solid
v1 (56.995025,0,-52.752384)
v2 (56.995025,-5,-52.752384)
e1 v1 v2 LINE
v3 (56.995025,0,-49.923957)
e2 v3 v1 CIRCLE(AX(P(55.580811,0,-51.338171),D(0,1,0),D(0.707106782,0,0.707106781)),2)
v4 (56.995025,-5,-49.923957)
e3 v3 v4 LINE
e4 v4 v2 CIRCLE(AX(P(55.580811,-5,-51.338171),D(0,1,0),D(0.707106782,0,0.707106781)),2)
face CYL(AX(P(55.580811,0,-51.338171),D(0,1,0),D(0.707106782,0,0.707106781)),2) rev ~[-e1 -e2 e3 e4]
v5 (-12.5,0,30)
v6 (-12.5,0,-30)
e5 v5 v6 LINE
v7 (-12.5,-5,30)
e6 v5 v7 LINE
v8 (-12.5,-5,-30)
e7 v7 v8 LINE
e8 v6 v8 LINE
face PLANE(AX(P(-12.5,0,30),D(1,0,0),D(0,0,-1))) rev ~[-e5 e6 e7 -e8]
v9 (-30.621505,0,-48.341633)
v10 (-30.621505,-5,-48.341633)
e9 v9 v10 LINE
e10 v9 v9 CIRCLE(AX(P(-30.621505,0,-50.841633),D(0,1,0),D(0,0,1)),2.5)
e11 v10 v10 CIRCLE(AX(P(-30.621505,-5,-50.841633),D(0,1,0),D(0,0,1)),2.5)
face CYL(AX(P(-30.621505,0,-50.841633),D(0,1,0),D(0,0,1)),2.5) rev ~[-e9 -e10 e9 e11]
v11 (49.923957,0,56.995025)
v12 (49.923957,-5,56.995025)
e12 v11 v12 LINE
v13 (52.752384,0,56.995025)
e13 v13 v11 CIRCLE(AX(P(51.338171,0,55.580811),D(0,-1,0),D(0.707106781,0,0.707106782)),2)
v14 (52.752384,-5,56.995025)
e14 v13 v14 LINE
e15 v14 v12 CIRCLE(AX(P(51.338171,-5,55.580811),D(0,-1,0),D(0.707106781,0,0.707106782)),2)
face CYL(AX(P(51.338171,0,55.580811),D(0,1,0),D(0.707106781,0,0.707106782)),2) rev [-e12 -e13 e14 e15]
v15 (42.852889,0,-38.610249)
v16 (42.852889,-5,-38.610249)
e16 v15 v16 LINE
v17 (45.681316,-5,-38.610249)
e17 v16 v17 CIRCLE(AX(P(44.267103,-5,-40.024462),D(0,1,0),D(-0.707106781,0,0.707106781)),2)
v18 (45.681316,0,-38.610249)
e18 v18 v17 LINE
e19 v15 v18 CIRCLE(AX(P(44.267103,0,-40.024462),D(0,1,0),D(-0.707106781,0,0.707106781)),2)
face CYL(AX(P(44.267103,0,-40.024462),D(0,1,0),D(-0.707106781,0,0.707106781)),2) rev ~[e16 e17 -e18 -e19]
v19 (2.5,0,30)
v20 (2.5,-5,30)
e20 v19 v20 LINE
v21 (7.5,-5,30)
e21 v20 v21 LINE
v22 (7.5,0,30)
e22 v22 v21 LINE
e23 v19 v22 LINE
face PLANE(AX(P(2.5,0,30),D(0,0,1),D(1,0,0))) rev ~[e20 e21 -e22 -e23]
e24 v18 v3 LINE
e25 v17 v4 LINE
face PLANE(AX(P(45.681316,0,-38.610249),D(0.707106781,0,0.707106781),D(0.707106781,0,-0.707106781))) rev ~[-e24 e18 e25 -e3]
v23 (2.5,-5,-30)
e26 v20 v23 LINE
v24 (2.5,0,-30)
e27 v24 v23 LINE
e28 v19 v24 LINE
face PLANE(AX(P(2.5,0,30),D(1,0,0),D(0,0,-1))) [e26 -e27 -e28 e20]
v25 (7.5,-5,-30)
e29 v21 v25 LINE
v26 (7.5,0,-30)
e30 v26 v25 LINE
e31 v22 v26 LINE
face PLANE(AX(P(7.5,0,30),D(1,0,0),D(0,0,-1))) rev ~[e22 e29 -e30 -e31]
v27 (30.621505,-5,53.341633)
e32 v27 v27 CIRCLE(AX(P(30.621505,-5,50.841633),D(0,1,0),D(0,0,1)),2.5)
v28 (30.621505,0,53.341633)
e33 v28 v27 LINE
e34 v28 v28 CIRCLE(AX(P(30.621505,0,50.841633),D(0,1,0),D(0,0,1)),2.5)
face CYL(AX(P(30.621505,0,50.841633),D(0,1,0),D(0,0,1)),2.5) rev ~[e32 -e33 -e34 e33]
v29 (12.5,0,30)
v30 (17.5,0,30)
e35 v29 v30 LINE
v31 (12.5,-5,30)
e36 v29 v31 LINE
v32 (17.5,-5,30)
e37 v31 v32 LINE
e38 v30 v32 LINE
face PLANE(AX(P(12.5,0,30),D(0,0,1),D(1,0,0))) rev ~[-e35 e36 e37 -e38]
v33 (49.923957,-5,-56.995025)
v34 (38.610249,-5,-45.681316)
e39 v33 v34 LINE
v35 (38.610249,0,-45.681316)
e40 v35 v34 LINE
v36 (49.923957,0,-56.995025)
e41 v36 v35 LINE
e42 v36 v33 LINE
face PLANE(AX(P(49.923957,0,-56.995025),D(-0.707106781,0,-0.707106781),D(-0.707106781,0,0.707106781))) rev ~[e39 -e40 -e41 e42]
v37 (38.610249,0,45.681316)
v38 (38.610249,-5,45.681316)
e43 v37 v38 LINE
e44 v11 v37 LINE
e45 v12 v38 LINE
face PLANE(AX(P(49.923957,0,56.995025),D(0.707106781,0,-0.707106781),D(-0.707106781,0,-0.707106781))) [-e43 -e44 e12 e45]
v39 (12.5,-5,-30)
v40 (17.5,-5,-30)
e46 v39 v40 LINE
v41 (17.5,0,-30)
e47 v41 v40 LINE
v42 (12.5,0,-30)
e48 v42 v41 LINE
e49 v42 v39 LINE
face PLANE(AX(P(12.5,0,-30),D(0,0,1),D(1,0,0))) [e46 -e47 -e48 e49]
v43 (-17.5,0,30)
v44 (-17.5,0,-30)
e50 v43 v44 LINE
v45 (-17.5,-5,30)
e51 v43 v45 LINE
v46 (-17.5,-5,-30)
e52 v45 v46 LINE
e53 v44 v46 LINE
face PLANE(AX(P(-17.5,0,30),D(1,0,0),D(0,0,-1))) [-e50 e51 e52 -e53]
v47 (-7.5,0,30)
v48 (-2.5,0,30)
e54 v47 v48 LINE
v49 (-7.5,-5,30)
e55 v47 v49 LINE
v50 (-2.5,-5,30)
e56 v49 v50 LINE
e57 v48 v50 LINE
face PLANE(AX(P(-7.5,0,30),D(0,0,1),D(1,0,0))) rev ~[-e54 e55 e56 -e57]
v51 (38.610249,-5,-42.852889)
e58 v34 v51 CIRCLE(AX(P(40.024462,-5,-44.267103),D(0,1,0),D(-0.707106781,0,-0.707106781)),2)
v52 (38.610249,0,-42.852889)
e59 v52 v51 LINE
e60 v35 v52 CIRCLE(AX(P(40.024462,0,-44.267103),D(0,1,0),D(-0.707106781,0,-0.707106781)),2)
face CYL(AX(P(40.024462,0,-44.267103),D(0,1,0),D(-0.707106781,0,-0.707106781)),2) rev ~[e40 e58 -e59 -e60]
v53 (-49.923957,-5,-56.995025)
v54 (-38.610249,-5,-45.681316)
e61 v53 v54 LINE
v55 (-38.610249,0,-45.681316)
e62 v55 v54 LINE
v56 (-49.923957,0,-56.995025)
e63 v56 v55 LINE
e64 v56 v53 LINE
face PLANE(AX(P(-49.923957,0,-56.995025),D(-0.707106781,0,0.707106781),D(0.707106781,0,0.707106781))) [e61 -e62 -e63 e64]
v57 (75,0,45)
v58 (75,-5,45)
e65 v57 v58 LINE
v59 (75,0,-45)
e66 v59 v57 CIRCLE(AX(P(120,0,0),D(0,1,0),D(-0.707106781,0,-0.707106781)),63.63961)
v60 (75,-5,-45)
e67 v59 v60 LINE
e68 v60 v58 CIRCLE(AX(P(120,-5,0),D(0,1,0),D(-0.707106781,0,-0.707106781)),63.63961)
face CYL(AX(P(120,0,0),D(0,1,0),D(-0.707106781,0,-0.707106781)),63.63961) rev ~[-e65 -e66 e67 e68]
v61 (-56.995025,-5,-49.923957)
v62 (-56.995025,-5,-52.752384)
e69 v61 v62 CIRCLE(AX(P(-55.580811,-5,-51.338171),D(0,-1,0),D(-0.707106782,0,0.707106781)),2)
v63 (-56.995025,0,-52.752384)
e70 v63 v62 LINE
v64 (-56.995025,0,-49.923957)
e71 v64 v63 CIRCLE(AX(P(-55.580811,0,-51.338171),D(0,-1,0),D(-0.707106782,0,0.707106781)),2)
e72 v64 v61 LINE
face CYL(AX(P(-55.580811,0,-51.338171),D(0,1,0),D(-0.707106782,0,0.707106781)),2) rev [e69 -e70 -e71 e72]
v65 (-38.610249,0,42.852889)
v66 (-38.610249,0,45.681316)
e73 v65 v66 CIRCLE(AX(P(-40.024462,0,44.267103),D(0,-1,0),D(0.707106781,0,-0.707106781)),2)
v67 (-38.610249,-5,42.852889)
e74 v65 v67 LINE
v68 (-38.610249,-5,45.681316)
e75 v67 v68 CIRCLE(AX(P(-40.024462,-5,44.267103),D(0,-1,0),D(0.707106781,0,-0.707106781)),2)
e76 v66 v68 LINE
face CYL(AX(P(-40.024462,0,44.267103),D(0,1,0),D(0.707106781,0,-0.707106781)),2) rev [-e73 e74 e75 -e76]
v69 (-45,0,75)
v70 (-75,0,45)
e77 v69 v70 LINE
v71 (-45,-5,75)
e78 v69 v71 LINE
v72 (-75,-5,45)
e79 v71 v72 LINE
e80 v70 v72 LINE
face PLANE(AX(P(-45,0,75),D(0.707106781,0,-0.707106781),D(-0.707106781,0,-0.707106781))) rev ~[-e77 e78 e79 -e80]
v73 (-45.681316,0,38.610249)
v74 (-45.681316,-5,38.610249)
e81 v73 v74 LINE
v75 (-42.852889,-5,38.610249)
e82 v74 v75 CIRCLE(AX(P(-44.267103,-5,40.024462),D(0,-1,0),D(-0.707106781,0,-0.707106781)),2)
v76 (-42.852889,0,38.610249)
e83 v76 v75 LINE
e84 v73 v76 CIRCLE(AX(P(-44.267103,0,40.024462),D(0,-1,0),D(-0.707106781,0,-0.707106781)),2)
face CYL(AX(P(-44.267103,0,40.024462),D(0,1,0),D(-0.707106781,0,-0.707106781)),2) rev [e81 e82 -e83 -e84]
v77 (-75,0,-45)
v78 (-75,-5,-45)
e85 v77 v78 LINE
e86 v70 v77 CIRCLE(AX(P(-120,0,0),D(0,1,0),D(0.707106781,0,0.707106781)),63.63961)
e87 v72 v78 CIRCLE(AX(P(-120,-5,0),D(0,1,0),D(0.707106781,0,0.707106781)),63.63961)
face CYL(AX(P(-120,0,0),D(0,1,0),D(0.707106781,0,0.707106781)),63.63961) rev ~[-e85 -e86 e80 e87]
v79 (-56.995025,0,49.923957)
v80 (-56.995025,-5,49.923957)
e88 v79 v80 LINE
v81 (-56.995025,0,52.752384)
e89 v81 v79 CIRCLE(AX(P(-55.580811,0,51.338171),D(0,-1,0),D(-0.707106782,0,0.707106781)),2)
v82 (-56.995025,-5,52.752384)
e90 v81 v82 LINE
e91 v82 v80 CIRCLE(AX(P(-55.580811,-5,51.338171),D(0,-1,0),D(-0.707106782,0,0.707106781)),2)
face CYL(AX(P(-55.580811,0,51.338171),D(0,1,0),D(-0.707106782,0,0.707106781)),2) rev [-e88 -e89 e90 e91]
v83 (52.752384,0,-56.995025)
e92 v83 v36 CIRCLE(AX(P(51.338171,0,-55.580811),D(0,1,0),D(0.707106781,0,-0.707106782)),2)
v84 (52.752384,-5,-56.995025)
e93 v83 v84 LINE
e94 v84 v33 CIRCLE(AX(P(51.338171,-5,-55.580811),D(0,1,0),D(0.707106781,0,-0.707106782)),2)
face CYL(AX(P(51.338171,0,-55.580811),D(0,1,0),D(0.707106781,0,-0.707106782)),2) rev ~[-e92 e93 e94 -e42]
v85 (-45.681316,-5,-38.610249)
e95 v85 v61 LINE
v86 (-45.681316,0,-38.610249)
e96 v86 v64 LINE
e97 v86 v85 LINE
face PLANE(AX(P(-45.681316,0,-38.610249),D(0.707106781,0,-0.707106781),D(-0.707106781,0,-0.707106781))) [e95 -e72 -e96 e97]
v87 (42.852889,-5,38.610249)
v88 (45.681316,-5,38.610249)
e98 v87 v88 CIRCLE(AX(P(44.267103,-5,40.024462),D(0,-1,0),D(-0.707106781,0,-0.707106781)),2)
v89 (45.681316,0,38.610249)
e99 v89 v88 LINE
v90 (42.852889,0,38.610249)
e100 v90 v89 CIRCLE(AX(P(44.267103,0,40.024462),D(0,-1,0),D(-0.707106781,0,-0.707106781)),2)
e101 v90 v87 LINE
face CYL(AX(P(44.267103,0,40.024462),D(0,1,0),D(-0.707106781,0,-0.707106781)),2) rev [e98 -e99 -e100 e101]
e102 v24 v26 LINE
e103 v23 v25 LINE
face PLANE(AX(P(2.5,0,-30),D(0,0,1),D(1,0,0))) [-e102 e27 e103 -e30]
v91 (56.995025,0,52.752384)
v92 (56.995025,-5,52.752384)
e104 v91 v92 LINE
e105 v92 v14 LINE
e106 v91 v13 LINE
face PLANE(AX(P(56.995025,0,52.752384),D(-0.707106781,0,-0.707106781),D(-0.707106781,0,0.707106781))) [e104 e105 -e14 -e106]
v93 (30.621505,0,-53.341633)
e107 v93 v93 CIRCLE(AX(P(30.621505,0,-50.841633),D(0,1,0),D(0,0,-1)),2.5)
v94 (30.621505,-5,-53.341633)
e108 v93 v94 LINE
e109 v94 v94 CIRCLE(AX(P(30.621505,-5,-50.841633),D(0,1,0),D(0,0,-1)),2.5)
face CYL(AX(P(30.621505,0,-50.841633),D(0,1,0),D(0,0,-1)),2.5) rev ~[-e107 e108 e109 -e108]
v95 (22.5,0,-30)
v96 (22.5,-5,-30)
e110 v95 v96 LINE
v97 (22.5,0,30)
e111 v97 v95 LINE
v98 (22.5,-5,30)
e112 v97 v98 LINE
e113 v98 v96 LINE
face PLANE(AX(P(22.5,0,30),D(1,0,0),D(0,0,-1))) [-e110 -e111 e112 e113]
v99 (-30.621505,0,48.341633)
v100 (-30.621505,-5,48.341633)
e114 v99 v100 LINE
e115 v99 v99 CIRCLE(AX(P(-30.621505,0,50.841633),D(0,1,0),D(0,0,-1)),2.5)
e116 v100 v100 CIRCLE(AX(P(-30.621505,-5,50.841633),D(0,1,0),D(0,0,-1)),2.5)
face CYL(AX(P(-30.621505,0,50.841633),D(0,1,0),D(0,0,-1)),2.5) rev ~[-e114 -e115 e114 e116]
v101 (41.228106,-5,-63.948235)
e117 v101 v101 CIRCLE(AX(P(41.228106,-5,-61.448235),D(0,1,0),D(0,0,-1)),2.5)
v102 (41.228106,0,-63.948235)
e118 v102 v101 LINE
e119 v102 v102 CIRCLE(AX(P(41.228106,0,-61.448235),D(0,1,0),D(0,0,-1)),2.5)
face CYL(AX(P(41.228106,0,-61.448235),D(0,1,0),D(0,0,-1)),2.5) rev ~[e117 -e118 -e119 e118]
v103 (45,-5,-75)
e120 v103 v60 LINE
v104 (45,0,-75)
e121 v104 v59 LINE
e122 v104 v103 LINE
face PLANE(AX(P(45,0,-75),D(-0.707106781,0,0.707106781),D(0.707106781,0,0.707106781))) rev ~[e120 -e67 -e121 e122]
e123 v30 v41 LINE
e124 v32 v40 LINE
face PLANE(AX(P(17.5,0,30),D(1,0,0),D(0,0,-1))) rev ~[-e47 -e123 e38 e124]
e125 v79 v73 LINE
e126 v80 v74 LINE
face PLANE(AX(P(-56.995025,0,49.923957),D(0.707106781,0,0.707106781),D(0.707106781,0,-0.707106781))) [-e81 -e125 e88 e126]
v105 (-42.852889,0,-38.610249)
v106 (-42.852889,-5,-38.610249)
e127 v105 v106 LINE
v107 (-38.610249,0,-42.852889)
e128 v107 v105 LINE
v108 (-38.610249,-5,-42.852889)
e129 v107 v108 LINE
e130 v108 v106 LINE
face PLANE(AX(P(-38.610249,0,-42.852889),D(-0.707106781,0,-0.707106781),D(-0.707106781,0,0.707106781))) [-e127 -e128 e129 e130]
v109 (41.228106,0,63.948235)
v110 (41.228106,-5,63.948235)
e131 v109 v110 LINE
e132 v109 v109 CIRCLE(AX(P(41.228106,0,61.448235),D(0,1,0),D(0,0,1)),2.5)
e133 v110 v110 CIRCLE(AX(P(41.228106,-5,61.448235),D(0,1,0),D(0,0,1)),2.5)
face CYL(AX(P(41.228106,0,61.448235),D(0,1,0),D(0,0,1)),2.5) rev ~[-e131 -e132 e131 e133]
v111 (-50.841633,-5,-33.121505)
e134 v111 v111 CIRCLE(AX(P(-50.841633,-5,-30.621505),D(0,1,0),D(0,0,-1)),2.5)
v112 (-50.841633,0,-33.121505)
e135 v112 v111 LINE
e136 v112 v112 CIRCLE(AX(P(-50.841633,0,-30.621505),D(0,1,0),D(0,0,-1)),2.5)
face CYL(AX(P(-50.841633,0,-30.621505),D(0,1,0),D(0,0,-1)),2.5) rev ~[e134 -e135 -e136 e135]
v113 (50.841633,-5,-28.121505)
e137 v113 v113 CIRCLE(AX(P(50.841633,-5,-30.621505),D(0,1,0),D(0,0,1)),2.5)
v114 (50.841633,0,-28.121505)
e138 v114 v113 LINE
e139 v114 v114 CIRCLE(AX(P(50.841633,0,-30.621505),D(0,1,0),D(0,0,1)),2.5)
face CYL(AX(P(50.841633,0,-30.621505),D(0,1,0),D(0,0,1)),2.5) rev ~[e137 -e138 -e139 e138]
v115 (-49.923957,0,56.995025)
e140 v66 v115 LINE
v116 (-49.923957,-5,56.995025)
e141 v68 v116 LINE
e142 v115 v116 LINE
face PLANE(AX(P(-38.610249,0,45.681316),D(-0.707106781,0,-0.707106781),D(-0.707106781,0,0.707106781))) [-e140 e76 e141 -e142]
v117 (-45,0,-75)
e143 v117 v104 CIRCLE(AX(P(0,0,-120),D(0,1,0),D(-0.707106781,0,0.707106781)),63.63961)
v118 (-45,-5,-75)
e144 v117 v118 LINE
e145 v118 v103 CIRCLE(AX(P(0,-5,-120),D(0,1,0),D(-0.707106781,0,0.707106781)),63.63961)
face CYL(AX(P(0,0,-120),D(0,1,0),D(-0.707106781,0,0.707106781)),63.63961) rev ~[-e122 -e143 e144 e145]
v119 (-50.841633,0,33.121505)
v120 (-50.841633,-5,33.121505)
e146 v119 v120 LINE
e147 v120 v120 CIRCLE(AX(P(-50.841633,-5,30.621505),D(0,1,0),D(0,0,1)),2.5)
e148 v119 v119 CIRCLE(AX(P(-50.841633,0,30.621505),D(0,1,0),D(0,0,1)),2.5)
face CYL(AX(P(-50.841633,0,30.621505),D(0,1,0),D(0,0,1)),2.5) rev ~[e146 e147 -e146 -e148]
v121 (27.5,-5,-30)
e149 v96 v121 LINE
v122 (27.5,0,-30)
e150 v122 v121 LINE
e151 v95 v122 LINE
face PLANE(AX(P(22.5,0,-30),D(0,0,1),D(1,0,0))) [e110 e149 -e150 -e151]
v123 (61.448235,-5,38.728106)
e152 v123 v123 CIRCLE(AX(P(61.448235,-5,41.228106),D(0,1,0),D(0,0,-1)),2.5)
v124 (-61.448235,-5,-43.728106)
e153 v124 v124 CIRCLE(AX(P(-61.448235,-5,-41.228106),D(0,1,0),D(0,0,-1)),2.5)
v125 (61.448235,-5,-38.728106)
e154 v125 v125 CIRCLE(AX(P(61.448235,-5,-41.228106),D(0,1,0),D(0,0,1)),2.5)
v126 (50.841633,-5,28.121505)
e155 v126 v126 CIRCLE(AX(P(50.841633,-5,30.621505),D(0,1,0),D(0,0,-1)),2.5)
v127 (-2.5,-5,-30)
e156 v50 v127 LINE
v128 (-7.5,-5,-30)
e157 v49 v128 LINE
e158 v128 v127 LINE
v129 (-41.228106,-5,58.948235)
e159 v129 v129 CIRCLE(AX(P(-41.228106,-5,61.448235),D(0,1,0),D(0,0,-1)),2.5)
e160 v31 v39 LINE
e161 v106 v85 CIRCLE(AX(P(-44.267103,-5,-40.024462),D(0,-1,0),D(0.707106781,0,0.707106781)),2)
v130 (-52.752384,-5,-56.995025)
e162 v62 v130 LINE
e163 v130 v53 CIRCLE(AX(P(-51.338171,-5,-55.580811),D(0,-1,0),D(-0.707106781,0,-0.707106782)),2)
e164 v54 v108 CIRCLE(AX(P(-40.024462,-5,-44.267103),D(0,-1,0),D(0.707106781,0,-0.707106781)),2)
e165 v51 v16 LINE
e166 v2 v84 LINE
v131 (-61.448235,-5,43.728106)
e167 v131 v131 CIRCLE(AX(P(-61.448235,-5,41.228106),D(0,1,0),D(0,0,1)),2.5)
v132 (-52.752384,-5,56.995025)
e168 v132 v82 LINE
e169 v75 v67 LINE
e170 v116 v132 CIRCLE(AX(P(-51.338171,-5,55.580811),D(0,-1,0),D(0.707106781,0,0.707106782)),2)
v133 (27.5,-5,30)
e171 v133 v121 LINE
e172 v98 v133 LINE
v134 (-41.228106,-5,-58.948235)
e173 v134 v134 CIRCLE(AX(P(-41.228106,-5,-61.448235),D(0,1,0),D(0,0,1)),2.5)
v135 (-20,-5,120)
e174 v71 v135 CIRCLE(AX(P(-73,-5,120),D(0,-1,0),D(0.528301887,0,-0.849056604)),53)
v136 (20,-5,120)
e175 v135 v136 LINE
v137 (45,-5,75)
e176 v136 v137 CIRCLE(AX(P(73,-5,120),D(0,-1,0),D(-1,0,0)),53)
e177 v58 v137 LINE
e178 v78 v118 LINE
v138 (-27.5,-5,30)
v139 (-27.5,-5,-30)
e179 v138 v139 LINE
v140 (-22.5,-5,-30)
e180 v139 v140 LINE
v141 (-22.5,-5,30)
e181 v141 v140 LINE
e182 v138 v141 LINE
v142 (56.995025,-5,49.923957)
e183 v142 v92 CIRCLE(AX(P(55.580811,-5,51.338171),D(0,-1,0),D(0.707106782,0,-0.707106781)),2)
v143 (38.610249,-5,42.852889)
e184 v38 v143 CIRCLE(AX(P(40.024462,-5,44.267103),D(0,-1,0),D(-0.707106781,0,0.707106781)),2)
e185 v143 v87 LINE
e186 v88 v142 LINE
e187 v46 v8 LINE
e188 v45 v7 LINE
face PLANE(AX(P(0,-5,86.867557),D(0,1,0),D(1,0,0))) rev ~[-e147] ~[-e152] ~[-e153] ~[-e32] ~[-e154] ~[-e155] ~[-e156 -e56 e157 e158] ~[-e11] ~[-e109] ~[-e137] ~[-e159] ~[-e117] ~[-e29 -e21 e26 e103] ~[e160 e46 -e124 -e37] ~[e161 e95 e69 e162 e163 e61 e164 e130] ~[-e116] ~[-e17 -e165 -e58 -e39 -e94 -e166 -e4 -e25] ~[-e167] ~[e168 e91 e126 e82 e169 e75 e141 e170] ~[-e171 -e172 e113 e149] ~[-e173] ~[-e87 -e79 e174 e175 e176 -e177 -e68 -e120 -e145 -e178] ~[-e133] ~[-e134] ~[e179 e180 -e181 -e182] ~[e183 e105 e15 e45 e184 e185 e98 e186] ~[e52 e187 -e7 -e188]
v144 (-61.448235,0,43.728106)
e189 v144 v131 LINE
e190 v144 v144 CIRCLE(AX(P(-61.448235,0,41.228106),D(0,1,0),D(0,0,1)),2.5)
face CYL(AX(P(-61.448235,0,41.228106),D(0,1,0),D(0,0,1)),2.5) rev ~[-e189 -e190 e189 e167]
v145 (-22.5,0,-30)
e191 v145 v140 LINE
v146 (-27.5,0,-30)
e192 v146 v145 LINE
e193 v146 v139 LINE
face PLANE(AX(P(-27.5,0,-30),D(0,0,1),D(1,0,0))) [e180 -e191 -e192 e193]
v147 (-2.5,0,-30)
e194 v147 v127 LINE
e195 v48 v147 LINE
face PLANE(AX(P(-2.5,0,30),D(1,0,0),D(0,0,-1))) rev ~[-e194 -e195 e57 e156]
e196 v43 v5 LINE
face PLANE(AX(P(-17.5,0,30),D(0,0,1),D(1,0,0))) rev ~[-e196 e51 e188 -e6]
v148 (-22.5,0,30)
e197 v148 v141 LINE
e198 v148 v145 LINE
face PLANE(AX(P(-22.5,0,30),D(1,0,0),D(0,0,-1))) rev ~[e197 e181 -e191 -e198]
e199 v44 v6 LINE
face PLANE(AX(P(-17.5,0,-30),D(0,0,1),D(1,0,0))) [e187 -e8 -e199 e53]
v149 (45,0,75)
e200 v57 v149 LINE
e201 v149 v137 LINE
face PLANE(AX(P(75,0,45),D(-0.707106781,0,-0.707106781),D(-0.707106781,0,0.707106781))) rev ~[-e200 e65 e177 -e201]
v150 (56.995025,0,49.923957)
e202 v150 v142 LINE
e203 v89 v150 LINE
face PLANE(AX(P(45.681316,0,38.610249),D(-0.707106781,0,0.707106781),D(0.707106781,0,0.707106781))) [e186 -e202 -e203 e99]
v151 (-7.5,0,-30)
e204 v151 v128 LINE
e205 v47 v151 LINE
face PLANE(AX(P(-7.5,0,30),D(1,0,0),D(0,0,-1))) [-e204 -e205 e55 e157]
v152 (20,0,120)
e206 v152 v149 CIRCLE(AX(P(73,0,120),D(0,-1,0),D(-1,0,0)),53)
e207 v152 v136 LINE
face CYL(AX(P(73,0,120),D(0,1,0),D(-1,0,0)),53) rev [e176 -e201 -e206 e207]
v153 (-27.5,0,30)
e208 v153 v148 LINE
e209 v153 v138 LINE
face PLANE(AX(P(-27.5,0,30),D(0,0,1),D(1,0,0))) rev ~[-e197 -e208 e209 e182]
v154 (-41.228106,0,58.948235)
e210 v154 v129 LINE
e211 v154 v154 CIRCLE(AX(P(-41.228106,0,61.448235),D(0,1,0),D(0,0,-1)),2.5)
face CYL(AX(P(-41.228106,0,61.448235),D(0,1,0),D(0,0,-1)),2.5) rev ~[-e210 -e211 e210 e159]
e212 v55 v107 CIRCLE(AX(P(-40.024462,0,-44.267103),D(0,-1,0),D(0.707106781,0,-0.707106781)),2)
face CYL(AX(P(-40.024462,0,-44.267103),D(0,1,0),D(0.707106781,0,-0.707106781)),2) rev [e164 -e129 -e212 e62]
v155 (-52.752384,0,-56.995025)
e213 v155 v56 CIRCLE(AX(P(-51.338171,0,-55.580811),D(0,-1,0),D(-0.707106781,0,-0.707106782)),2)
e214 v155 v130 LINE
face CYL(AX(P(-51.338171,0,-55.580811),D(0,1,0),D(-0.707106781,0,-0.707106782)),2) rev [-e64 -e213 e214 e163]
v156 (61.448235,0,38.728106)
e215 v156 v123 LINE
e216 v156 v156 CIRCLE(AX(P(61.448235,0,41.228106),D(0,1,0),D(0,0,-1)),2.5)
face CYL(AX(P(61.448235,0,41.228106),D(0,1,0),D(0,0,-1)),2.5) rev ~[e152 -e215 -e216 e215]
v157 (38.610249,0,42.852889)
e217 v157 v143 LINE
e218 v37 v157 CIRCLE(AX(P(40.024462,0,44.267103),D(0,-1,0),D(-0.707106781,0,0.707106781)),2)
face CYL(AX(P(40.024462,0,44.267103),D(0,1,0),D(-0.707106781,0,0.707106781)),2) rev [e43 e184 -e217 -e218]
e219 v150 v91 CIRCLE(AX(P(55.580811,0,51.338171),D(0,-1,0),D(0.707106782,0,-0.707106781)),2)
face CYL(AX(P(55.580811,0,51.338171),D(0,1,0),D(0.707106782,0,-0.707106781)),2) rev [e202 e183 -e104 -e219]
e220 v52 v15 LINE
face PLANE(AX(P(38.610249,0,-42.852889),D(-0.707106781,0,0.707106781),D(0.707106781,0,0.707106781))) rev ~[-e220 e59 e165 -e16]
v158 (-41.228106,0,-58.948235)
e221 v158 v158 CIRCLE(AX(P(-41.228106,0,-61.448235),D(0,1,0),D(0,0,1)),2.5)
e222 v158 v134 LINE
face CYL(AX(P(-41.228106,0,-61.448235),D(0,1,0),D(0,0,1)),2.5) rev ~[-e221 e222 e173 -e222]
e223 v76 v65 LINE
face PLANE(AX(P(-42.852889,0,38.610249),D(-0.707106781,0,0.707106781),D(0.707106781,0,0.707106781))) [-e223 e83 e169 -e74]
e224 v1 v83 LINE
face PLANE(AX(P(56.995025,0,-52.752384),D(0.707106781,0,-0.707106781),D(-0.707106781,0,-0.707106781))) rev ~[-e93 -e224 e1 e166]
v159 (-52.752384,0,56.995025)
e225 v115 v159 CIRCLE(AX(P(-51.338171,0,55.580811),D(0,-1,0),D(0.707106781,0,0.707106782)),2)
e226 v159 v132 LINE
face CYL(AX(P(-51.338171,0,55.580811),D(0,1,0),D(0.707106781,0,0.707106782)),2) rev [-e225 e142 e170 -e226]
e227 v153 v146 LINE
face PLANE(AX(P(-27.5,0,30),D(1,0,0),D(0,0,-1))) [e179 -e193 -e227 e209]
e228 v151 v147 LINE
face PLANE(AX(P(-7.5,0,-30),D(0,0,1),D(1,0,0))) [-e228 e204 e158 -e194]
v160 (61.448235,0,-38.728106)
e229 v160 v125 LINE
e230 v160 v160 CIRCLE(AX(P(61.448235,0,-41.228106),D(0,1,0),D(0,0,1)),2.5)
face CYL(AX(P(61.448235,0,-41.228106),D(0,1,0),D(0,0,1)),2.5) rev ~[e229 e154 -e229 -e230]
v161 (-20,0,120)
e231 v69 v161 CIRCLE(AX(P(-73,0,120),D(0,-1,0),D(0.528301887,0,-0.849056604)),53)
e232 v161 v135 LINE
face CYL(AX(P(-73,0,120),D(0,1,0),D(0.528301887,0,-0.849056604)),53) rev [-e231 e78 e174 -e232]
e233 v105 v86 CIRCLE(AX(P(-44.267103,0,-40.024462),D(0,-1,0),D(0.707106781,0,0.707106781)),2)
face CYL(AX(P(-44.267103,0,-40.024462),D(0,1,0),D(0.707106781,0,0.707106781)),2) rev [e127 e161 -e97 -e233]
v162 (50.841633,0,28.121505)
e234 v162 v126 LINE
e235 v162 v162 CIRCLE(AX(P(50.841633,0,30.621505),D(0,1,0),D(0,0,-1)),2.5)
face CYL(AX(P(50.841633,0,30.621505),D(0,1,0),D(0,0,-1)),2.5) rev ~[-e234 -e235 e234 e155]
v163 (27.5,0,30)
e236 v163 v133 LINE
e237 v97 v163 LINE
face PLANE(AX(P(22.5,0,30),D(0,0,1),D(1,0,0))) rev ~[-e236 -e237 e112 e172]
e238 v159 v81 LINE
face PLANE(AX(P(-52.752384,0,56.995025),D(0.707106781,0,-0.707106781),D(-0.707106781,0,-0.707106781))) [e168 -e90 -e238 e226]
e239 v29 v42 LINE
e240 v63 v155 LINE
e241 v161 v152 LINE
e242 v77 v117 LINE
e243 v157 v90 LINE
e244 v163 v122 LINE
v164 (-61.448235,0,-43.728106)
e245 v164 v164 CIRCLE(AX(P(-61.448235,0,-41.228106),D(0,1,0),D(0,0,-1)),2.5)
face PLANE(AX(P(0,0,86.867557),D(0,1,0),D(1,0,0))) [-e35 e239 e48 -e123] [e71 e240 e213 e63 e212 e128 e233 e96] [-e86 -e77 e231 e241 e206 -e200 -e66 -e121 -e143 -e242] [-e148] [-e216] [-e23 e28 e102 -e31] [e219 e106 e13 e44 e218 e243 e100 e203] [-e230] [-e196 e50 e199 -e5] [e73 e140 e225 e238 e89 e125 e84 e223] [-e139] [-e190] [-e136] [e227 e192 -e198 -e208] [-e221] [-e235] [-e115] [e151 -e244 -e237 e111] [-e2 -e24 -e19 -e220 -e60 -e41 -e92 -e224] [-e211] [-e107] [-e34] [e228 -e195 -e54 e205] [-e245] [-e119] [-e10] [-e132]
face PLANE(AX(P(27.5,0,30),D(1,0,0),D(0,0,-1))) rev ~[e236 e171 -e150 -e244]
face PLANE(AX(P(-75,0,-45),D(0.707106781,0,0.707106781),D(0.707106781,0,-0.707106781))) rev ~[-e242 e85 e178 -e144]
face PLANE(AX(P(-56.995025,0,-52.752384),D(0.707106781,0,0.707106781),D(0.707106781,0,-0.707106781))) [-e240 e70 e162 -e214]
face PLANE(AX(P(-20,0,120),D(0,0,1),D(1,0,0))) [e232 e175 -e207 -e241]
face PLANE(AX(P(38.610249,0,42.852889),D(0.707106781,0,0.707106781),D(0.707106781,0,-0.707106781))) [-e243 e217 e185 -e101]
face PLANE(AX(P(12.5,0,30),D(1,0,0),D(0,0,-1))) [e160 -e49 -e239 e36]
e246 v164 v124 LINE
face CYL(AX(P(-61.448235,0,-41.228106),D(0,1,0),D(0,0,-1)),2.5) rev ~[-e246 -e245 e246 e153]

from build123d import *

# Parameters (mm, degrees)
SKETCH2_R           = 2.5
SKETCH2_W           = 5
SKETCH2_H           = 60
BOSS_EXTRUDE1_DEPTH = 5
BOSS_EXTRUDE2_DEPTH = 5


with BuildPart() as part:
    # Sketch2 → Boss-Extrude1 (new body)
    with BuildSketch(Plane(origin=(0, 0, 0), x_dir=(1, 0, 0), z_dir=(0, 1, 0))):
        with BuildLine():
            Line((45, 75), (75, 45))
            ThreePointArc((75, 45), (56.360389693, 0), (75, -45))
            Line((75, -45), (45, -75))
            ThreePointArc((45, -75), (0, -56.360389693), (-45, -75))
            Line((-45, -75), (-75, -45))
            ThreePointArc((-75, -45), (-56.360389693, 0), (-75, 45))
            Line((-75, 45), (-45, 75))
            ThreePointArc((-45, 75), (0, 56.360389693), (45, 75))
        make_face()
        with Locations(Location((50.841633347, 30.621504688, 0), (0, 0, 270))):
            Circle(SKETCH2_R, mode=Mode.SUBTRACT)
        with Locations(Location((61.448235065, 41.228106405, 0), (0, 0, 270))):
            Circle(SKETCH2_R, mode=Mode.SUBTRACT)
        with Locations(Location((30.621504688, 50.841633347, 0), (0, 0, 90))):
            Circle(SKETCH2_R, mode=Mode.SUBTRACT)
        with Locations(Location((41.228106405, 61.448235065, 0), (0, 0, 90))):
            Circle(SKETCH2_R, mode=Mode.SUBTRACT)
        with Locations(Location((30.621504688, -50.841633347, 0), (0, 0, 270))):
            Circle(SKETCH2_R, mode=Mode.SUBTRACT)
        with Locations(Location((41.228106405, -61.448235065, 0), (0, 0, 270))):
            Circle(SKETCH2_R, mode=Mode.SUBTRACT)
        with Locations(Location((61.448235065, -41.228106405, 0), (0, 0, 90))):
            Circle(SKETCH2_R, mode=Mode.SUBTRACT)
        with Locations(Location((50.841633347, -30.621504688, 0), (0, 0, 90))):
            Circle(SKETCH2_R, mode=Mode.SUBTRACT)
        with Locations(Location((-50.841633347, -30.621504688, 0), (0, 0, 270))):
            Circle(SKETCH2_R, mode=Mode.SUBTRACT)
        with Locations(Location((-61.448235065, -41.228106405, 0), (0, 0, 270))):
            Circle(SKETCH2_R, mode=Mode.SUBTRACT)
        with Locations(Location((-41.228106405, -61.448235065, 0), (0, 0, 90))):
            Circle(SKETCH2_R, mode=Mode.SUBTRACT)
        with Locations(Location((-30.621504688, -50.841633347, 0), (0, 0, 90))):
            Circle(SKETCH2_R, mode=Mode.SUBTRACT)
        with Locations(Location((-30.621504688, 50.841633347, 0), (0, 0, 270))):
            Circle(SKETCH2_R, mode=Mode.SUBTRACT)
        with Locations(Location((-41.228106405, 61.448235065, 0), (0, 0, 270))):
            Circle(SKETCH2_R, mode=Mode.SUBTRACT)
        with Locations(Location((-61.448235065, 41.228106405, 0), (0, 0, 90))):
            Circle(SKETCH2_R, mode=Mode.SUBTRACT)
        with Locations(Location((-50.841633347, 30.621504688, 0), (0, 0, 90))):
            Circle(SKETCH2_R, mode=Mode.SUBTRACT)
        with BuildLine():
            Line((38.610248674, 42.852889361), (42.852889361, 38.610248674))
            ThreePointArc((42.852889361, 38.610248674), (44.267102923, 38.024462236), (45.681316486, 38.610248674))
            Line((45.681316486, 38.610248674), (56.995024985, 49.923957173))
            ThreePointArc((56.995024985, 49.923957173), (57.580811422, 51.338170735), (56.995024985, 52.752384297))
            Line((56.995024985, 52.752384297), (52.752384297, 56.995024985))
            ThreePointArc((52.752384297, 56.995024985), (51.338170735, 57.580811422), (49.923957173, 56.995024985))
            Line((49.923957173, 56.995024985), (38.610248674, 45.681316486))
            ThreePointArc((38.610248674, 45.681316486), (38.024462236, 44.267102923), (38.610248674, 42.852889361))
        make_face(mode=Mode.SUBTRACT)
        with Locations((5, 0)):
            Rectangle(SKETCH2_W, SKETCH2_H, mode=Mode.SUBTRACT)
        with Locations((-5, 0)):
            Rectangle(SKETCH2_W, SKETCH2_H, mode=Mode.SUBTRACT)
        with BuildLine():
            Line((45.681316486, -38.610248674), (56.995024985, -49.923957173))
            ThreePointArc((56.995024985, -49.923957173), (57.580811422, -51.338170735), (56.995024985, -52.752384297))
            Line((56.995024985, -52.752384297), (52.752384297, -56.995024985))
            ThreePointArc((52.752384297, -56.995024985), (51.338170735, -57.580811422), (49.923957173, -56.995024985))
            Line((49.923957173, -56.995024985), (38.610248674, -45.681316486))
            ThreePointArc((38.610248674, -45.681316486), (38.024462236, -44.267102923), (38.610248674, -42.852889361))
            Line((38.610248674, -42.852889361), (42.852889361, -38.610248674))
            ThreePointArc((42.852889361, -38.610248674), (44.267102923, -38.024462236), (45.681316486, -38.610248674))
        make_face(mode=Mode.SUBTRACT)
        with BuildLine():
            Line((-38.610248674, -45.681316486), (-49.923957173, -56.995024985))
            ThreePointArc((-49.923957173, -56.995024985), (-51.338170735, -57.580811422), (-52.752384297, -56.995024985))
            Line((-52.752384297, -56.995024985), (-56.995024985, -52.752384297))
            ThreePointArc((-56.995024985, -52.752384297), (-57.580811422, -51.338170735), (-56.995024985, -49.923957173))
            Line((-56.995024985, -49.923957173), (-45.681316486, -38.610248674))
            ThreePointArc((-45.681316486, -38.610248674), (-44.267102923, -38.024462236), (-42.852889361, -38.610248674))
            Line((-42.852889361, -38.610248674), (-38.610248674, -42.852889361))
            ThreePointArc((-38.610248674, -42.852889361), (-38.024462236, -44.267102923), (-38.610248674, -45.681316486))
        make_face(mode=Mode.SUBTRACT)
        with BuildLine():
            Line((-45.681316486, 38.610248674), (-56.995024985, 49.923957173))
            ThreePointArc((-56.995024985, 49.923957173), (-57.580811422, 51.338170735), (-56.995024985, 52.752384297))
            Line((-56.995024985, 52.752384297), (-52.752384297, 56.995024985))
            ThreePointArc((-52.752384297, 56.995024985), (-51.338170735, 57.580811422), (-49.923957173, 56.995024985))
            Line((-49.923957173, 56.995024985), (-38.610248674, 45.681316486))
            ThreePointArc((-38.610248674, 45.681316486), (-38.024462236, 44.267102923), (-38.610248674, 42.852889361))
            Line((-38.610248674, 42.852889361), (-42.852889361, 38.610248674))
            ThreePointArc((-42.852889361, 38.610248674), (-44.267102923, 38.024462236), (-45.681316486, 38.610248674))
        make_face(mode=Mode.SUBTRACT)
        with Locations((-15, 0)):
            Rectangle(SKETCH2_W, SKETCH2_H, mode=Mode.SUBTRACT)
        with Locations((-25, 0)):
            Rectangle(SKETCH2_W, SKETCH2_H, mode=Mode.SUBTRACT)
        with Locations((15, 0)):
            Rectangle(SKETCH2_W, SKETCH2_H, mode=Mode.SUBTRACT)
        with Locations((25, 0)):
            Rectangle(SKETCH2_W, SKETCH2_H, mode=Mode.SUBTRACT)
    extrude(amount=-BOSS_EXTRUDE1_DEPTH)

    # Sketch3 → Boss-Extrude2 (add)
    with BuildSketch(Plane(origin=(0, 0, 0), x_dir=(1, 0, 0), z_dir=(0, 1, 0))):
        with BuildLine():
            Line((-20, -120), (20, -120))
            ThreePointArc((20, -120), (26.669664366, -94.260924648), (45, -75))
            ThreePointArc((45, -75), (0, -56.360389693), (-45, -75))
            ThreePointArc((-45, -75), (-26.669664366, -94.260924648), (-20, -120))
        make_face()
    extrude(amount=-BOSS_EXTRUDE2_DEPTH)


solid = part.part
